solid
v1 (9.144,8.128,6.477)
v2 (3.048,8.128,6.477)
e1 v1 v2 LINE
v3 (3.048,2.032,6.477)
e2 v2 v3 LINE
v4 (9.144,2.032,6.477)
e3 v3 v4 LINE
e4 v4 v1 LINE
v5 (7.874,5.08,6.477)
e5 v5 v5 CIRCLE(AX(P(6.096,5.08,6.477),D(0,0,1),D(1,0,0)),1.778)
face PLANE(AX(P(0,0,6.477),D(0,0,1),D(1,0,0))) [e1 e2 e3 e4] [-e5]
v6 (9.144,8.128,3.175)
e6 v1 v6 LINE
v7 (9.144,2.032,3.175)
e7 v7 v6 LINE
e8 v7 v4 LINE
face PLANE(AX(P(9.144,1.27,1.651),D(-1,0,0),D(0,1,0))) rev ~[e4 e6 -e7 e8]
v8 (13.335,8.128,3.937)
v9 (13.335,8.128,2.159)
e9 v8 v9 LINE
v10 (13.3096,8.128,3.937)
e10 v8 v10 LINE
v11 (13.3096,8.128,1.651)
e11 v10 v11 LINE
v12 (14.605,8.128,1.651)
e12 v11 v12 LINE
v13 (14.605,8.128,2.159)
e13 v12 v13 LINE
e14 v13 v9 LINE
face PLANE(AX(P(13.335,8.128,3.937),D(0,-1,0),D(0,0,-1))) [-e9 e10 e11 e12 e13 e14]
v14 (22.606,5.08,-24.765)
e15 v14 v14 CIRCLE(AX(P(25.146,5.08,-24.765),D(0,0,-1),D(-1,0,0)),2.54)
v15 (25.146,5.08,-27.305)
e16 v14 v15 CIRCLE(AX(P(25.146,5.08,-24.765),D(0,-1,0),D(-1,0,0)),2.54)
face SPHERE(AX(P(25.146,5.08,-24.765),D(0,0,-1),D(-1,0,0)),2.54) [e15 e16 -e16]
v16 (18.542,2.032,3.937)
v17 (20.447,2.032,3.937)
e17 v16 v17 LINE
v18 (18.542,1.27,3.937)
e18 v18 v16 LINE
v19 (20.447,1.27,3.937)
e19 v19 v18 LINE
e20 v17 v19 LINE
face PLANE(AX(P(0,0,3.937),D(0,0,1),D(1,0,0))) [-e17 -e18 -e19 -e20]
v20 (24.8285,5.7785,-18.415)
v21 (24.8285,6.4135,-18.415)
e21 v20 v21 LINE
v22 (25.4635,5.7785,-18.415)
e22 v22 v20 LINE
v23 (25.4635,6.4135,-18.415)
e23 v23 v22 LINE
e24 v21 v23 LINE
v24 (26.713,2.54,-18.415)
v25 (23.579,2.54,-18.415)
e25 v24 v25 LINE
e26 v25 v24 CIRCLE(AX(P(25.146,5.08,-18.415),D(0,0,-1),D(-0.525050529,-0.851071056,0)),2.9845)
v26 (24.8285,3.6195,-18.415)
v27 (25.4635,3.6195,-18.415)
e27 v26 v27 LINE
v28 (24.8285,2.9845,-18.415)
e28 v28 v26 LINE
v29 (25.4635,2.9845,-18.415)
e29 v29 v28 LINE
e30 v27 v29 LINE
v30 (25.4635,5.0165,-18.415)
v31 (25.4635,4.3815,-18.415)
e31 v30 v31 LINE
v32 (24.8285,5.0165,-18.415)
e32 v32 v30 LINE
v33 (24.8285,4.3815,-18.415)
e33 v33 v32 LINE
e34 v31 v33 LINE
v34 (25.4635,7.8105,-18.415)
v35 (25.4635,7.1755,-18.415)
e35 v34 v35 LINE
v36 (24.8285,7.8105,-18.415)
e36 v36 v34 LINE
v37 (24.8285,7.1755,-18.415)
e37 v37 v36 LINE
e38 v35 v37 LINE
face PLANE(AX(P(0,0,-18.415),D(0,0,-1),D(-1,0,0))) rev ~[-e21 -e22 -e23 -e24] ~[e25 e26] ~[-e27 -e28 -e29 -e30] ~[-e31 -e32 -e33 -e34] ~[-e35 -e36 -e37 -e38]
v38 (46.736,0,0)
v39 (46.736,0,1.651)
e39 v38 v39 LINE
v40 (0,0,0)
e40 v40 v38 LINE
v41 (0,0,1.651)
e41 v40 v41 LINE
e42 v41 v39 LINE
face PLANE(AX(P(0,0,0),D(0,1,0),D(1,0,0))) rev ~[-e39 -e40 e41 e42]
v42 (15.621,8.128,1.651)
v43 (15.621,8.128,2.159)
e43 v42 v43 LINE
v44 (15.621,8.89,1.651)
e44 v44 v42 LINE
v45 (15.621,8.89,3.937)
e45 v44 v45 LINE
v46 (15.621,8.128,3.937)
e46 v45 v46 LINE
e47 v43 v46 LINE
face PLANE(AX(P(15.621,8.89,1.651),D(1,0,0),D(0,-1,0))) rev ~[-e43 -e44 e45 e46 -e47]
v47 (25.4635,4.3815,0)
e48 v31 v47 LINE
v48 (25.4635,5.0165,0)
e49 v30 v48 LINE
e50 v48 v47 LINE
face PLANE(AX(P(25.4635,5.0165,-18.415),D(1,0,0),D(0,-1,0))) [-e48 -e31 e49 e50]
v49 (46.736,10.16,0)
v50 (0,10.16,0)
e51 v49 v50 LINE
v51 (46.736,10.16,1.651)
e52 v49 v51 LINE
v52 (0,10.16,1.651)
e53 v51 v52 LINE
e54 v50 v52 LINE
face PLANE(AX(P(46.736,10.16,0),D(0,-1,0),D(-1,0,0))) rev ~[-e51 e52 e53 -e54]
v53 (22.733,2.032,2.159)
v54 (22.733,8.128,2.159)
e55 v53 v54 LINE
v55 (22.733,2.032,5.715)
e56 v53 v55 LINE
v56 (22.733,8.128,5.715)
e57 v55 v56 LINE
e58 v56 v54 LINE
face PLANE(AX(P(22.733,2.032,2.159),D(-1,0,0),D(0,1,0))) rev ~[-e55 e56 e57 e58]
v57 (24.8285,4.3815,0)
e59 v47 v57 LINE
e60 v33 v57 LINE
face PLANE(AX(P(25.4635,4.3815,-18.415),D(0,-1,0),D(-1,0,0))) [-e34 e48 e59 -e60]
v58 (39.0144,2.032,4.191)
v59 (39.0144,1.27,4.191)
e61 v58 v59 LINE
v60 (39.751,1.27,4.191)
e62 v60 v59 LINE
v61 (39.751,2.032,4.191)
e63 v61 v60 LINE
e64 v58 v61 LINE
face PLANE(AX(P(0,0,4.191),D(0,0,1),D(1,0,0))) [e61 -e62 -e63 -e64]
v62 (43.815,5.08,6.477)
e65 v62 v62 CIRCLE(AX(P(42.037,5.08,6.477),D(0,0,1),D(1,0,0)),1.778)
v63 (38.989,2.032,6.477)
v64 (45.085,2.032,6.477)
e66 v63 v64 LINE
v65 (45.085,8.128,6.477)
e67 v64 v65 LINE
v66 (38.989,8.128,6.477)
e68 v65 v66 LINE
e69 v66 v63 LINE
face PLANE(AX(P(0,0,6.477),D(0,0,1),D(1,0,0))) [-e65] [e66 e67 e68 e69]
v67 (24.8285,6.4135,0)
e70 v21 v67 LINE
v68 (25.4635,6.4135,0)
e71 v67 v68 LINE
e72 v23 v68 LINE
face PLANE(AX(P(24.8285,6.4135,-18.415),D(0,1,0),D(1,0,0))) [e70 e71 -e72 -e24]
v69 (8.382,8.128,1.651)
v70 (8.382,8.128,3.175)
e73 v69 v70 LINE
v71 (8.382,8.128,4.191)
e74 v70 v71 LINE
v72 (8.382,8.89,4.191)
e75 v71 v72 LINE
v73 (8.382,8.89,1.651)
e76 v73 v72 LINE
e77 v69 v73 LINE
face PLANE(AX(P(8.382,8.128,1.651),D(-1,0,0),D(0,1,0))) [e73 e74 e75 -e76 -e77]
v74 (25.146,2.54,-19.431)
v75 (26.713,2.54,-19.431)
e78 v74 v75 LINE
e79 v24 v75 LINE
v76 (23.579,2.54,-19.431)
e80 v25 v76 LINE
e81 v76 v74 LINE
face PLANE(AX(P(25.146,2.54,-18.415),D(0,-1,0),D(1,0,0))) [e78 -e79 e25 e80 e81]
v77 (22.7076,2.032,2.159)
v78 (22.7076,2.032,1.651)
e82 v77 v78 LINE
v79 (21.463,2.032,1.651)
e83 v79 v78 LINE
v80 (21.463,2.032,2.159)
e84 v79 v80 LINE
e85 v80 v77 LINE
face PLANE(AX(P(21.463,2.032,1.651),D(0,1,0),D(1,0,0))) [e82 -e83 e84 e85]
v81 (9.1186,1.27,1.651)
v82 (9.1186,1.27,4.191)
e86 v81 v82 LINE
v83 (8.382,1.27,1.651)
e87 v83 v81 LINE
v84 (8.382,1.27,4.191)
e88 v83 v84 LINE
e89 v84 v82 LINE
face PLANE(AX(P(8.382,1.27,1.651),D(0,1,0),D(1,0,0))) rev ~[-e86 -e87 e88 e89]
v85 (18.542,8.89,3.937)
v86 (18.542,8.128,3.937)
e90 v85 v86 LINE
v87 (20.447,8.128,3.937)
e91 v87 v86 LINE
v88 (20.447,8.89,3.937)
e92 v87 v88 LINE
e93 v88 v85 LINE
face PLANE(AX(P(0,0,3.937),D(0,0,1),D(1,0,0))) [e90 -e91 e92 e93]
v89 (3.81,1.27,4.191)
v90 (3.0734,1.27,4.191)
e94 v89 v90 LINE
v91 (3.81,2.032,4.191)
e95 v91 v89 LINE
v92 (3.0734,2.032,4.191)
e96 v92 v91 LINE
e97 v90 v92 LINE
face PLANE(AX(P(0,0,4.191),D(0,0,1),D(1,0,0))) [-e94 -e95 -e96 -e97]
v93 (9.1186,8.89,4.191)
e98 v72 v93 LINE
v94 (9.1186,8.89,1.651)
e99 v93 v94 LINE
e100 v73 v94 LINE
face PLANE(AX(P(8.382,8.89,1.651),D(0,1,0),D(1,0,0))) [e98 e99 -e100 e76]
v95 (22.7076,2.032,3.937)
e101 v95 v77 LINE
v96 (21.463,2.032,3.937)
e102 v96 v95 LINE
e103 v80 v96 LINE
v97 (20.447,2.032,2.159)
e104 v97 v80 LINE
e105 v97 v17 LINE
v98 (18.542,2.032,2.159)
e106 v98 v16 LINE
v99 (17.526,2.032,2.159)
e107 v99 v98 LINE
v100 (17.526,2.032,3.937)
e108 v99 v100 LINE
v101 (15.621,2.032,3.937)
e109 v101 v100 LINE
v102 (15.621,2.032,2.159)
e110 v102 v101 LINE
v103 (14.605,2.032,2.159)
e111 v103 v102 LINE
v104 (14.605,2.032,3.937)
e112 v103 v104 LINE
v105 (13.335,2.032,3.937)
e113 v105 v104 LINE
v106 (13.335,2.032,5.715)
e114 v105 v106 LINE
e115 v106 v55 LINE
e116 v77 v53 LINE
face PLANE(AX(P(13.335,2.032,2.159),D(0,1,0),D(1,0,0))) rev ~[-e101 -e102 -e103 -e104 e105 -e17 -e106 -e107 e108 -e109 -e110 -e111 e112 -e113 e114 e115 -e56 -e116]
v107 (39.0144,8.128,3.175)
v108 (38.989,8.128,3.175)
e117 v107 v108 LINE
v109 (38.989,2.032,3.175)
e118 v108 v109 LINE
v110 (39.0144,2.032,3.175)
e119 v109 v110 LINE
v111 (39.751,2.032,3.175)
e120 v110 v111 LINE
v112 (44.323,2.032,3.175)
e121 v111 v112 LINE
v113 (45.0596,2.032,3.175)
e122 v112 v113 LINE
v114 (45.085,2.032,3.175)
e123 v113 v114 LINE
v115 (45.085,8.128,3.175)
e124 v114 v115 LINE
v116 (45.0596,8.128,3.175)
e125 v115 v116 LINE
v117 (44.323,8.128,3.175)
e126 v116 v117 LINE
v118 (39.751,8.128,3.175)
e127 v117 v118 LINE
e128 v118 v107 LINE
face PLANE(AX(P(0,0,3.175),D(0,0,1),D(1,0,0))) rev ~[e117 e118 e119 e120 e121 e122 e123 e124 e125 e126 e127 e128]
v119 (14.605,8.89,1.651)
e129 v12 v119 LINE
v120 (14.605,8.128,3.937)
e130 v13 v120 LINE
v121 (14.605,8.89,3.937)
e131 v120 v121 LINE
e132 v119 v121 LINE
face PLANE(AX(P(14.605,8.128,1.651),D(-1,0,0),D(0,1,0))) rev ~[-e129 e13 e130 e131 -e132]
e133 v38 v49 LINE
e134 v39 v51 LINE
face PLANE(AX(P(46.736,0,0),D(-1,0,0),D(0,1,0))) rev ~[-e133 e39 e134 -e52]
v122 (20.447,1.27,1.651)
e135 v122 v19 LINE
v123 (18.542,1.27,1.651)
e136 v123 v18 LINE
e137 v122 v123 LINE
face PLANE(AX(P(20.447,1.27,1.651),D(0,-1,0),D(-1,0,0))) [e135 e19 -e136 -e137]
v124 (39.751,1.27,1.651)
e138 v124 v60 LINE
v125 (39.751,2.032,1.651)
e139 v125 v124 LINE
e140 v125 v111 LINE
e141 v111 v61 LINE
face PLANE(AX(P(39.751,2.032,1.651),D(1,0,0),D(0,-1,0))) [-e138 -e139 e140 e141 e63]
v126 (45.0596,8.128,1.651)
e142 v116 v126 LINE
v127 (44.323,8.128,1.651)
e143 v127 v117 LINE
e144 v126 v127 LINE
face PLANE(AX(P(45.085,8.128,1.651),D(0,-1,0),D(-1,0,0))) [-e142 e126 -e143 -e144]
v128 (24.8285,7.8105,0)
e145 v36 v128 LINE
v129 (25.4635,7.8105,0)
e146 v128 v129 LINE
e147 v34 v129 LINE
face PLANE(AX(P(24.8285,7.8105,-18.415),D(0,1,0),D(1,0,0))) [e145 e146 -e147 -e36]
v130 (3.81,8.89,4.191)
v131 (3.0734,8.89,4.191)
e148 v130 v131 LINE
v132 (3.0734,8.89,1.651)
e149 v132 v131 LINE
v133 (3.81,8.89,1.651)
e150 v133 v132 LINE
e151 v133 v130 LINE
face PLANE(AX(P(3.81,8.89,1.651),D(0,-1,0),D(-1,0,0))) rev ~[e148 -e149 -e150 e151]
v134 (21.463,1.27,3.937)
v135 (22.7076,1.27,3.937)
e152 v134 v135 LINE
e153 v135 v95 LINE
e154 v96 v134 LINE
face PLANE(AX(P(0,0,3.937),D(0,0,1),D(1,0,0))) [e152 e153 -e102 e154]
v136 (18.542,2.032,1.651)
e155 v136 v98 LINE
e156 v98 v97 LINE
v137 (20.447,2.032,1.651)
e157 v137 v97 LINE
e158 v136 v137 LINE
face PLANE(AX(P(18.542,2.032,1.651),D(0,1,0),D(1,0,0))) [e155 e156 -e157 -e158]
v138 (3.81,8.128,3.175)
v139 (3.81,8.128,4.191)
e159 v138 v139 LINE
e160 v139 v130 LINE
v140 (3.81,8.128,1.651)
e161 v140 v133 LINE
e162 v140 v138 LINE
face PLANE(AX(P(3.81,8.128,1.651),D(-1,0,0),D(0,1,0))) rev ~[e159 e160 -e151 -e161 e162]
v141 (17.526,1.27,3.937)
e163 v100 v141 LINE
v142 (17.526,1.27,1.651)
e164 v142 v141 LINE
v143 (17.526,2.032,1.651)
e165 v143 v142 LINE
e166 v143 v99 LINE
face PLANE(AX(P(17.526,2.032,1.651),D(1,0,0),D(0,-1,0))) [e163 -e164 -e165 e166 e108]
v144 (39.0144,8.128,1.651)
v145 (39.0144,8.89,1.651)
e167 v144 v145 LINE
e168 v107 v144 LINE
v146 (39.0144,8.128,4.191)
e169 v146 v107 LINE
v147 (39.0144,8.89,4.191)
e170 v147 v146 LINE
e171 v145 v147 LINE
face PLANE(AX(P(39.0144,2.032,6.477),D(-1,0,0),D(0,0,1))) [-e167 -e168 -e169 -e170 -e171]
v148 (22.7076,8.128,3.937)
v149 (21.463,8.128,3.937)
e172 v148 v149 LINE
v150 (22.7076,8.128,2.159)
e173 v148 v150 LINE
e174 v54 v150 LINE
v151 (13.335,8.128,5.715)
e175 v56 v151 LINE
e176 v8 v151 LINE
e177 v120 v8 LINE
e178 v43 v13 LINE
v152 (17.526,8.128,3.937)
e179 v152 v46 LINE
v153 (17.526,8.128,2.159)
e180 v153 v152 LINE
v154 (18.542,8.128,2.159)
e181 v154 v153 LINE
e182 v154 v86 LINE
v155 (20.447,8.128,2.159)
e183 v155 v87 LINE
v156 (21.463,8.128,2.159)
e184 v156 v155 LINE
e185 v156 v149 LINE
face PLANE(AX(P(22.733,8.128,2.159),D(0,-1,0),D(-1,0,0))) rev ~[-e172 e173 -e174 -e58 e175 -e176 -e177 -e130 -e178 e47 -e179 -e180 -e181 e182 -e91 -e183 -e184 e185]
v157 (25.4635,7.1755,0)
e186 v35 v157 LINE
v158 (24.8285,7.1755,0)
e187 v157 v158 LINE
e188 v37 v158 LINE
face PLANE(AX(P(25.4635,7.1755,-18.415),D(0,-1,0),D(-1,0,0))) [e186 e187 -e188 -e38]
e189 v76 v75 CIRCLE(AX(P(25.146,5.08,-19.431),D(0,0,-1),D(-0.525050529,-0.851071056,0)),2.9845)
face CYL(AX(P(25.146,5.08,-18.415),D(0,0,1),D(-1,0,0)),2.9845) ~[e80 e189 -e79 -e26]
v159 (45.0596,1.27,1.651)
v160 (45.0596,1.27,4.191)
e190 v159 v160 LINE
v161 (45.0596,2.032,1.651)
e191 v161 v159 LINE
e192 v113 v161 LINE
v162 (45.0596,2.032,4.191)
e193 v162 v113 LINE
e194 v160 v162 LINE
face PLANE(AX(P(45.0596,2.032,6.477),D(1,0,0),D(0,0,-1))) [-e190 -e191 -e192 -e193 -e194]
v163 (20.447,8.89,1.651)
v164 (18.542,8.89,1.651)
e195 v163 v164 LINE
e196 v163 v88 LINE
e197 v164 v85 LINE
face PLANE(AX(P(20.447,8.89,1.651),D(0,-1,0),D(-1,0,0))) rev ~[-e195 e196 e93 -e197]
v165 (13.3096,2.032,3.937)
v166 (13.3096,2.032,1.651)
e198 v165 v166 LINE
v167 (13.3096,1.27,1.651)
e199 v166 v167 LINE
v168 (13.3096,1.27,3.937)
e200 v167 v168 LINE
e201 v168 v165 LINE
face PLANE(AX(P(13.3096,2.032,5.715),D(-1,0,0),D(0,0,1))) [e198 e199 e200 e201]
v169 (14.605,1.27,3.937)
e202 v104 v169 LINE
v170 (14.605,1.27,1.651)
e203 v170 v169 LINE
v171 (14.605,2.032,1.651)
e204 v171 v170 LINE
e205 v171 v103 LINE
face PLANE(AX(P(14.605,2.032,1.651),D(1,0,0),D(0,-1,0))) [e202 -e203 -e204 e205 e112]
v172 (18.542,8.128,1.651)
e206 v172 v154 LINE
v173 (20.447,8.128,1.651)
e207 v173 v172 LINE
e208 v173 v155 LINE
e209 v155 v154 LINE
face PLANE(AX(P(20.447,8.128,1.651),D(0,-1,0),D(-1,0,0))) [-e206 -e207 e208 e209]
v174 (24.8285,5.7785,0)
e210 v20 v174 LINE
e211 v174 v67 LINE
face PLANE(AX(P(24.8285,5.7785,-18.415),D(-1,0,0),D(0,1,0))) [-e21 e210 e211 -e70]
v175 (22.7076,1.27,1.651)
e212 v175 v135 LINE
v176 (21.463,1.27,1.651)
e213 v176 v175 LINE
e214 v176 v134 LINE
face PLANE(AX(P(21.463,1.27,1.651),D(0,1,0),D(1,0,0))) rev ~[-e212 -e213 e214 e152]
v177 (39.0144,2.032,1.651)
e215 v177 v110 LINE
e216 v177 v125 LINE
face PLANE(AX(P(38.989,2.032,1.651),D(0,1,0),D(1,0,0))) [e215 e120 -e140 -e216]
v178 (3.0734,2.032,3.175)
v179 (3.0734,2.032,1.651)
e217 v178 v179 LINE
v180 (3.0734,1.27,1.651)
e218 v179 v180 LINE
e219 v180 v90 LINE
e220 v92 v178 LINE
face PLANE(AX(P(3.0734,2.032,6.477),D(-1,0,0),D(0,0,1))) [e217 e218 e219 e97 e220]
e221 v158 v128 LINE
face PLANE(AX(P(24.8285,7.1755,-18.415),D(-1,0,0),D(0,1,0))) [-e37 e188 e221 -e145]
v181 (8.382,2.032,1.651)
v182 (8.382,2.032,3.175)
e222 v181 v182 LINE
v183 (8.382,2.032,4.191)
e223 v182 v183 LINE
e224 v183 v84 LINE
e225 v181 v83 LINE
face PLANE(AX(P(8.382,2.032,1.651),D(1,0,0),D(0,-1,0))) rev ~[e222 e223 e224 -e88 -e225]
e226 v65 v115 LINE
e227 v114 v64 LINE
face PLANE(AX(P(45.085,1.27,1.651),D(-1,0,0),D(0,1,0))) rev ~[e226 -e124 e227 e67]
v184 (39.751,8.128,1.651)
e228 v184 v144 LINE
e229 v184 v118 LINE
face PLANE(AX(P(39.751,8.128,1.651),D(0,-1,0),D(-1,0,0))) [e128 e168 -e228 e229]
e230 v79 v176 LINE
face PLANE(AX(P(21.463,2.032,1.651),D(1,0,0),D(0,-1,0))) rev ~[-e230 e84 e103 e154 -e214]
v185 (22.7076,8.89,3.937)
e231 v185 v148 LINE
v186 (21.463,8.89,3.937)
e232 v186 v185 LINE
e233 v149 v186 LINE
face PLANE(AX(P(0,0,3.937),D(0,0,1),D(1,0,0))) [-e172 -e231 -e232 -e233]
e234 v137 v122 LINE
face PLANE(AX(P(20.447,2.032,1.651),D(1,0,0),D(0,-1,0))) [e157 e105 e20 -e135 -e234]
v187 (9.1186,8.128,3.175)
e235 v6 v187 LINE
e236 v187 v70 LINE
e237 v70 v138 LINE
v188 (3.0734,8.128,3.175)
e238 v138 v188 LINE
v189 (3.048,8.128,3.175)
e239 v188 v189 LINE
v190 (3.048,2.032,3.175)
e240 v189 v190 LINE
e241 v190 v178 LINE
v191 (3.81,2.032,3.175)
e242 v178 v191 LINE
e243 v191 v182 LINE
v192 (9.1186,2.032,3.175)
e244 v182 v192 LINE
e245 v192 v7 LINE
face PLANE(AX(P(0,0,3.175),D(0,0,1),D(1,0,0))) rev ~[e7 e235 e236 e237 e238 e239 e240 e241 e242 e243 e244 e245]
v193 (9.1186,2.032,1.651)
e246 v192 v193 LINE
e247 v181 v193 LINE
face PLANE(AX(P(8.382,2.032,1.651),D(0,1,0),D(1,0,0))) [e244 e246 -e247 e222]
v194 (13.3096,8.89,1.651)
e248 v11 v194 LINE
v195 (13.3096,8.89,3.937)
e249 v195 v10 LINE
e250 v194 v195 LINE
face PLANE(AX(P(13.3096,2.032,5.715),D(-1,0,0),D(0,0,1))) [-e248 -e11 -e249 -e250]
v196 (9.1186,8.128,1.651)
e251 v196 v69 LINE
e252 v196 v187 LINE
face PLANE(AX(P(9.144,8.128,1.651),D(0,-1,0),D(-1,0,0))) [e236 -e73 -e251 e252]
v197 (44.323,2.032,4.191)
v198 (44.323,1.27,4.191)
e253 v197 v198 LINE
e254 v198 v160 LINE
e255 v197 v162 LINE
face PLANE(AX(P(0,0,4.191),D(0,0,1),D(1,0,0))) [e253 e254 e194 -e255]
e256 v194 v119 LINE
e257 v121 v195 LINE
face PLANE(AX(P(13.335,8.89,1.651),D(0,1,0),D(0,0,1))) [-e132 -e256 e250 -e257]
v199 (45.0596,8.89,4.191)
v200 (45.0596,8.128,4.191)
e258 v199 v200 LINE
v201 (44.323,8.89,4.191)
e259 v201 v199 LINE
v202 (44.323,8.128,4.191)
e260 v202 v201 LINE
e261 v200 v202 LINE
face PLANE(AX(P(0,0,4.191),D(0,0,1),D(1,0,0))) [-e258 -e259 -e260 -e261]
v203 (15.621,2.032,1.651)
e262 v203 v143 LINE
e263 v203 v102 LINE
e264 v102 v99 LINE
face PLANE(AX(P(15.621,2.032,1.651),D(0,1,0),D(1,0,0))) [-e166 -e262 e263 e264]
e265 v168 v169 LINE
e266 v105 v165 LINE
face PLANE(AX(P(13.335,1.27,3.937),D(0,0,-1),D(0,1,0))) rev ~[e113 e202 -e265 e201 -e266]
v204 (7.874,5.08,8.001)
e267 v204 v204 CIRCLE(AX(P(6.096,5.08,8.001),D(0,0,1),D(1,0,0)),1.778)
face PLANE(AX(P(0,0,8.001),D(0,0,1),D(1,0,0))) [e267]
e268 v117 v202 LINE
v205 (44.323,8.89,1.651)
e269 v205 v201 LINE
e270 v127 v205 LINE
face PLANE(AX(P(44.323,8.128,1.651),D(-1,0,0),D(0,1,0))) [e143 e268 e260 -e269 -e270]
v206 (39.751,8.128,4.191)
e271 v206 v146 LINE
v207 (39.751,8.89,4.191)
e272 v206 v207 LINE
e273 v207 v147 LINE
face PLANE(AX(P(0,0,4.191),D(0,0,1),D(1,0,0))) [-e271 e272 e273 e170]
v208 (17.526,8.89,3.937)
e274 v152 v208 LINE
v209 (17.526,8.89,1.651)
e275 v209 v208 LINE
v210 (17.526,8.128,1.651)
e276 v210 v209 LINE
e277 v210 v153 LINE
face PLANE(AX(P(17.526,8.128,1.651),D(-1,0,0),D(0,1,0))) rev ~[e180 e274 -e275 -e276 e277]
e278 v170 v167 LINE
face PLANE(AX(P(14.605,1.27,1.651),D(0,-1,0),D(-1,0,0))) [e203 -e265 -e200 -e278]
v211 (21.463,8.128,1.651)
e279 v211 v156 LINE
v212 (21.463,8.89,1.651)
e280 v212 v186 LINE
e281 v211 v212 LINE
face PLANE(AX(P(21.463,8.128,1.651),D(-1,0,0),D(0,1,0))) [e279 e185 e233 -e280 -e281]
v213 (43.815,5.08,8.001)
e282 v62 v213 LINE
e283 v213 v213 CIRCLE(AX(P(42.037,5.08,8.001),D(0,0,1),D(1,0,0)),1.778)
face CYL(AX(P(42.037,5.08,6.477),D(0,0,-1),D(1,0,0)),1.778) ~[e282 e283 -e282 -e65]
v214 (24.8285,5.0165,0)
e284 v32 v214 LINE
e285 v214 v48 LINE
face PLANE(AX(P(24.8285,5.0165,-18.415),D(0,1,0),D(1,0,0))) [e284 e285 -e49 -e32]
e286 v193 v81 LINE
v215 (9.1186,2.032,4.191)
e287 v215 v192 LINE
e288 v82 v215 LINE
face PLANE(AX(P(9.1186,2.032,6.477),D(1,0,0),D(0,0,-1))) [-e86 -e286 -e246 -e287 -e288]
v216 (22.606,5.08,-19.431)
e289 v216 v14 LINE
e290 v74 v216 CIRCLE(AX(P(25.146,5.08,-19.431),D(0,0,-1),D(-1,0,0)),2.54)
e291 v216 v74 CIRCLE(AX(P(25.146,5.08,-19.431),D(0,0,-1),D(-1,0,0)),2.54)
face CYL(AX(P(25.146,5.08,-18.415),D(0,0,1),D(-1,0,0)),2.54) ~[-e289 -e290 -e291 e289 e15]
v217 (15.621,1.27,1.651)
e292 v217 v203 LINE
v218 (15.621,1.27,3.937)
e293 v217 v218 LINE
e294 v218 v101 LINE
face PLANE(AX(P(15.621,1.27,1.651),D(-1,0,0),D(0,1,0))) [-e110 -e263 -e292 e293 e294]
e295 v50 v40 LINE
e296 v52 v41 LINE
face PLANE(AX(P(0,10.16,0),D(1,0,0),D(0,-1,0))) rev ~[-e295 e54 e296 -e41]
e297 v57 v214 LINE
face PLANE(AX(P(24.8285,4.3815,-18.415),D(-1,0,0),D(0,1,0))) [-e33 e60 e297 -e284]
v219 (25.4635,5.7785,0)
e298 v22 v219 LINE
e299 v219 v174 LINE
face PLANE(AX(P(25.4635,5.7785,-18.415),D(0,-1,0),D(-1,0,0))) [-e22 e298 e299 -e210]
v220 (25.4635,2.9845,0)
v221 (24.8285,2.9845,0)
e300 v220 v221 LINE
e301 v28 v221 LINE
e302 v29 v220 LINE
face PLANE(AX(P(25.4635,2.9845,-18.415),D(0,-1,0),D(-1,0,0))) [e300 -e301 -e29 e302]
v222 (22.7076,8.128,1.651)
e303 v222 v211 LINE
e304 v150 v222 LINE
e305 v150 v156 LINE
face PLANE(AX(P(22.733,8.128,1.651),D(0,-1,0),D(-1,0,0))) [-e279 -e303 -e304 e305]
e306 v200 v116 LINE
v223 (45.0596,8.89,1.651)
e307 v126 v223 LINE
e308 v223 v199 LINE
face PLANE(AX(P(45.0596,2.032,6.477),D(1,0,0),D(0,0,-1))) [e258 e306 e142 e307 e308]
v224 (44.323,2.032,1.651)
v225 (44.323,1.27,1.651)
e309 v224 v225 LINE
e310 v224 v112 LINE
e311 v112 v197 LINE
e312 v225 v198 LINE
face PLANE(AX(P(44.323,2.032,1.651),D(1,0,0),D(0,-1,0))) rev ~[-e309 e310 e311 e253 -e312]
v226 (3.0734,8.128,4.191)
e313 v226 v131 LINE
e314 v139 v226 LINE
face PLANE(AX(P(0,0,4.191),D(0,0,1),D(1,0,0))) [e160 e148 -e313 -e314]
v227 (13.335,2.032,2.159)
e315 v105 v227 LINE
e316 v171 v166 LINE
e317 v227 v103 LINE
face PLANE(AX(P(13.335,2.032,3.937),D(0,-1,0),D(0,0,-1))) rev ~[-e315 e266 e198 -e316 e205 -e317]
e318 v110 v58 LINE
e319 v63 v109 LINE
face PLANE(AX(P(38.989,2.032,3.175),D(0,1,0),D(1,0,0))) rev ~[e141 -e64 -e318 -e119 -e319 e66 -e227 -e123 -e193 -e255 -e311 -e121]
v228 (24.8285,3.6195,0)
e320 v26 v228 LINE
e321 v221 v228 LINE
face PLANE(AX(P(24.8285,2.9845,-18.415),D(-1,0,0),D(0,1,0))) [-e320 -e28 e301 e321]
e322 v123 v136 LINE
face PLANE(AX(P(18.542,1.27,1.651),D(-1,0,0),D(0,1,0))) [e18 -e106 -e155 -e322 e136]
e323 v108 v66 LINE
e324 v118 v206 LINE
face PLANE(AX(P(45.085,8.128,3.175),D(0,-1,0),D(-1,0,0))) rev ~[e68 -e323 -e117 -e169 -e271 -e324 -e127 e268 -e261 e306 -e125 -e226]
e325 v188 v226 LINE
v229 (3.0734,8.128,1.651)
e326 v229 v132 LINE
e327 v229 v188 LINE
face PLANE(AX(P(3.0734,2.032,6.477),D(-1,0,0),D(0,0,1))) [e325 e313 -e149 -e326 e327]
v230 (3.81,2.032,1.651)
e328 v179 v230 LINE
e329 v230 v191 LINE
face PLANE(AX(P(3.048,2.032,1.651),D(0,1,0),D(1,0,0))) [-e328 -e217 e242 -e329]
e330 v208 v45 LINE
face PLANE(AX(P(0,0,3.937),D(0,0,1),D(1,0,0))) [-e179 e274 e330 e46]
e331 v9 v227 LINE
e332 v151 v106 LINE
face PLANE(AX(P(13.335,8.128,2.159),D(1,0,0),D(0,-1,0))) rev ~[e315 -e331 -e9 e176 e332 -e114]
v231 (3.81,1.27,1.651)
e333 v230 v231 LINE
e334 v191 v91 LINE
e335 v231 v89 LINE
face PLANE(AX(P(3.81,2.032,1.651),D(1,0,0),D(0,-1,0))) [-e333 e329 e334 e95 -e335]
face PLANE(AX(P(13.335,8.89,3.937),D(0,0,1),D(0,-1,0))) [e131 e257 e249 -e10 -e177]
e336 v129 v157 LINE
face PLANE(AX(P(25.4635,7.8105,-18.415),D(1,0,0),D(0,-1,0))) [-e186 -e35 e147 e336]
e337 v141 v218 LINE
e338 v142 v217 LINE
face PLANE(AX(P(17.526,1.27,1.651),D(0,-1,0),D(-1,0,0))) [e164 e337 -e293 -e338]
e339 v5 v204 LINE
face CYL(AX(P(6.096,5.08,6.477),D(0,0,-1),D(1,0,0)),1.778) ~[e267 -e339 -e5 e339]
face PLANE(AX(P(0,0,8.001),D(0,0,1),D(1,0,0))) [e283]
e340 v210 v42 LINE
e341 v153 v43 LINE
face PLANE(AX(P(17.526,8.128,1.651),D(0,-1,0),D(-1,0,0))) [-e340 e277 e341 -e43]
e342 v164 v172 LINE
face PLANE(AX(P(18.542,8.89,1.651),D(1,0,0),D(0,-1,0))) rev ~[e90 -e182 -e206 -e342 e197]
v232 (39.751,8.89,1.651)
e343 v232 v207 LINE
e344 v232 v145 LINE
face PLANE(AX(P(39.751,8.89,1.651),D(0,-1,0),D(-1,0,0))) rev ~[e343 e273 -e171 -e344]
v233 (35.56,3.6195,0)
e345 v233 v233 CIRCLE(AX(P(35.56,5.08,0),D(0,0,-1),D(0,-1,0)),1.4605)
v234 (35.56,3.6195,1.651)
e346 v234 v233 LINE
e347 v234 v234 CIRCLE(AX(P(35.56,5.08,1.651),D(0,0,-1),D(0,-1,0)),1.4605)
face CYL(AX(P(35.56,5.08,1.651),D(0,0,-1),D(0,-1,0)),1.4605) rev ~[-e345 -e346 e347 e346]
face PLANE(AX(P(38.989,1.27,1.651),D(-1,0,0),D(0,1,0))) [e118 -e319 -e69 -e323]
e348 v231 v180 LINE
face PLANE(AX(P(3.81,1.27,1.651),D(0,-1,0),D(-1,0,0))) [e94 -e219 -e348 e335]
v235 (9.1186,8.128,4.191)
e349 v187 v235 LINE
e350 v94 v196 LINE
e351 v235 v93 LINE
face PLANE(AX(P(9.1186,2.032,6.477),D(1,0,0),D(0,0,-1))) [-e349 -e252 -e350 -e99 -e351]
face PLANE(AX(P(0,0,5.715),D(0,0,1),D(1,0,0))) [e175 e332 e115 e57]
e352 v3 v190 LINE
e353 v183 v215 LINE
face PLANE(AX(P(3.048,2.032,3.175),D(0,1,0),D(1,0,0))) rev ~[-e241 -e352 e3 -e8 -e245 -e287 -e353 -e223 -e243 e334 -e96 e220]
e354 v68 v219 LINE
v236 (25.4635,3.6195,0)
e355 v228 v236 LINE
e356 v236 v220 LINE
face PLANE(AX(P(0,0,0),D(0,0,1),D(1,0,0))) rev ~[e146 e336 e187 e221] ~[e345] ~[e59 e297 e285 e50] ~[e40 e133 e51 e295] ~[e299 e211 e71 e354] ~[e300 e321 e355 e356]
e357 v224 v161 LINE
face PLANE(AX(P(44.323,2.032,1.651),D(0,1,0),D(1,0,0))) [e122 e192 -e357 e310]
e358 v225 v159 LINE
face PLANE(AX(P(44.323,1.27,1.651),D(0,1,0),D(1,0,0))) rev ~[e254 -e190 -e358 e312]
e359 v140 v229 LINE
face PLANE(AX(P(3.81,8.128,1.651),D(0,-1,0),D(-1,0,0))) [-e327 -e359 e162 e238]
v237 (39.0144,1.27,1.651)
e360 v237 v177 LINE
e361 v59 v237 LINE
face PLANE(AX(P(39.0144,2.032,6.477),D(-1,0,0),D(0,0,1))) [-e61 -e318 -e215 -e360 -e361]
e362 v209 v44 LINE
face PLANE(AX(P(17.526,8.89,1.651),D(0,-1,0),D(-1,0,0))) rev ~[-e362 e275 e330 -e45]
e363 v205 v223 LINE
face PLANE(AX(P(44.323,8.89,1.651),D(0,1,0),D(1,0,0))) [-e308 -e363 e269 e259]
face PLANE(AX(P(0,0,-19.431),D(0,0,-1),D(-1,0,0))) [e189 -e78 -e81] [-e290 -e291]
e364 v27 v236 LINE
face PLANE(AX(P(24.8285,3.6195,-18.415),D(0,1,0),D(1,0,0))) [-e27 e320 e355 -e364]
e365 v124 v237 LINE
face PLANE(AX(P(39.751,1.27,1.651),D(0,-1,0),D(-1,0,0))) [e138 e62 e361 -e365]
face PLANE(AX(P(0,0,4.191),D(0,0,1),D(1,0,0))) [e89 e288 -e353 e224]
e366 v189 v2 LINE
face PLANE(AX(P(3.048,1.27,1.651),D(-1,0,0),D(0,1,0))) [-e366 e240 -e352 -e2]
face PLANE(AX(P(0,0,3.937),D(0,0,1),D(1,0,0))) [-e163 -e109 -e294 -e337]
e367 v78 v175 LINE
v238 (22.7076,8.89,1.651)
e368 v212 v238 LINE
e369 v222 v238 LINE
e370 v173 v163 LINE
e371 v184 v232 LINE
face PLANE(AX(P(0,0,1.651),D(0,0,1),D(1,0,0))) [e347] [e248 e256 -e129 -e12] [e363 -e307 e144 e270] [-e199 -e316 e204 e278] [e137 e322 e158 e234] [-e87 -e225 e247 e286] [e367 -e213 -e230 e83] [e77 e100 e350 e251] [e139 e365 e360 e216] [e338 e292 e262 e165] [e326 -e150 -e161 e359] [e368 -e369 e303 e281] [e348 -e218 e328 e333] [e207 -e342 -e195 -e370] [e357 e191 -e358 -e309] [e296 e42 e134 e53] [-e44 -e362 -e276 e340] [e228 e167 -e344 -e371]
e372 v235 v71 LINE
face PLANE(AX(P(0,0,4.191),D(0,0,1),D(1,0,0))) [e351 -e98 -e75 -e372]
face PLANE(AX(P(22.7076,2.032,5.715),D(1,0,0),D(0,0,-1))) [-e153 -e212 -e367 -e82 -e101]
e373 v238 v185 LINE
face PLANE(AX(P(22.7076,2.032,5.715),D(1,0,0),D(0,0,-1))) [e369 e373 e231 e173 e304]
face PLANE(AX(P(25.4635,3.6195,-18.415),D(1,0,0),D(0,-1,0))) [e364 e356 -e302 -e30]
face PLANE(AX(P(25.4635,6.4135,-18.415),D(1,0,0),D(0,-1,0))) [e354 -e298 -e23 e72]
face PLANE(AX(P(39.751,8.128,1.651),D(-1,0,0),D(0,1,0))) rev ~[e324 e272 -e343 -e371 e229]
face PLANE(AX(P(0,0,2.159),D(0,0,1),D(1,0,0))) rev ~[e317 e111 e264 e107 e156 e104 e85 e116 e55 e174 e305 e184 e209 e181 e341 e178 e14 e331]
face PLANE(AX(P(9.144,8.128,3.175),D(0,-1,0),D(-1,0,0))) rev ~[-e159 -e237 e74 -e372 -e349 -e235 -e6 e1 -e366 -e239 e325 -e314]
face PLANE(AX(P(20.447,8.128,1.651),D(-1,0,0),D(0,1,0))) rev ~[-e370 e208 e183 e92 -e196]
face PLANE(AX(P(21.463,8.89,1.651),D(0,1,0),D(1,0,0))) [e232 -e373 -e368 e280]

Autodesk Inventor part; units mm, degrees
sketch "Sketch4" plane through (0, 0, 0) normal (0, 0, 1) x (1, 0, 0)
  line L0 (0, 0) -> (46.736, 0)
  line L1 (46.736, 0) -> (46.736, 10.16)
  line L2 (46.736, 10.16) -> (0, 10.16)
  line L3 (0, 10.16) -> (0, 0)
  dimension "d6" = 46.736
  dimension "d7" = 10.16
extrude "Extrusion4" add sketch "Sketch4" along normal blind 1.651
ref_plane "Work Plane2" through (0, 0, 3.175) normal (0, 0, 1) x (1, 0, 0)
sketch "Sketch6" plane through (0, 0, 3.175) normal (0, 0, 1) x (1, 0, 0)
  line L0 (38.989, 2.032) -> (45.085, 2.032)
  line L1 (45.085, 2.032) -> (45.085, 8.128)
  line L2 (45.085, 8.128) -> (38.989, 8.128)
  line L3 (38.989, 8.128) -> (38.989, 2.032)
  line L4 (0, 0) -> (46.736, 0) projected
  line L5 (46.736, 0) -> (46.736, 10.16) projected
  line L6 (46.736, 10.16) -> (0, 10.16) projected
  line L7 (0, 10.16) -> (0, 0) projected
  dimension "d17" = 6.096
  dimension "d18" = 6.096
  dimension "d22" = 2.032
  dimension "d23" = 2.032
  dimension "d24" = 1.651
extrude "Extrusion5" add sketch "Sketch6" along normal blind 3.302 contours L3 L2 L1 L0
sketch "Sketch7" plane through (0, 0, 6.477) normal (0, 0, 1) x (1, 0, 0)
  line L0 (38.989, 2.032) -> (45.085, 2.032) projected
  line L1 (38.989, 8.128) -> (38.989, 2.032) projected
  circle A0 centre (42.037, 5.08) radius 1.778
  point P0 (45.085, 8.128)
  point P1 (0, 0)
  dimension "d27" = 3.556
  dimension "d28" = 3.048
  dimension "d29" = 6.096
  dimension "d30" = 6.096
  dimension "d31" = 3.048
extrude "Extrusion6" add sketch "Sketch7" along normal blind 1.524
hole "Hole1" at (35.56, 5.08, 1.651) direction (0, 0, -1) diameter 2.921 end through all
sketch "Sketch8" plane through (0, 0, 3.175) normal (0, 0, 1) x (1, 0, 0)
  circle A0 centre (35.56, 5.08) radius 1.4605 projected
  line L0 (0, 0) -> (46.736, 0) projected
  line L1 (46.736, 0) -> (46.736, 10.16) projected
  line L2 (46.736, 10.16) -> (0, 10.16) projected
  line L3 (0, 10.16) -> (0, 0) projected
  line L4 (3.048, 2.032) -> (9.144, 2.032)
  line L5 (9.144, 2.032) -> (9.144, 8.128)
  line L6 (9.144, 8.128) -> (3.048, 8.128)
  line L7 (3.048, 8.128) -> (3.048, 2.032)
  dimension "d43" = 3.048
  dimension "d44" = 2.032
  dimension "d45" = 6.096
  dimension "d46" = 6.096
extrude "Extrusion7" add sketch "Sketch8" along normal blind 3.302 contours L7 L6 L5 L4
sketch "Sketch9" plane through (0, 0, 6.477) normal (0, 0, 1) x (1, 0, 0)
  line L0 (3.048, 2.032) -> (9.144, 2.032) projected
  line L1 (9.144, 2.032) -> (9.144, 8.128) projected
  circle A0 centre (6.096, 5.08) radius 1.778
  point P0 (0, 0)
  dimension "d49" = 3.048
  dimension "d50" = 3.048
  dimension "d51" = 3.556
extrude "Extrusion8" add sketch "Sketch9" along normal blind 1.524
ref_plane "Work Plane3" through (0, 0, 2.159) normal (0, 0, 1) x (1, 0, 0)
sketch "Sketch11" plane through (0, 0, 2.159) normal (0, 0, 1) x (1, 0, 0)
  circle A0 centre (35.56, 5.08) radius 1.4605 projected
  line L0 (0, 0) -> (46.736, 0) projected
  line L1 (46.736, 0) -> (46.736, 10.16) projected
  line L2 (46.736, 10.16) -> (0, 10.16) projected
  line L3 (0, 10.16) -> (0, 0) projected
  circle A1 centre (6.096, 5.08) radius 1.778 projected
  line L4 (3.048, 2.032) -> (9.144, 2.032) projected
  line L5 (9.144, 2.032) -> (9.144, 8.128) projected
  line L6 (9.144, 8.128) -> (3.048, 8.128) projected
  line L7 (3.048, 8.128) -> (3.048, 2.032) projected
  line L8 (13.335, 2.032) -> (22.733, 2.032)
  line L9 (22.733, 2.032) -> (22.733, 8.128)
  line L10 (22.733, 8.128) -> (13.335, 8.128)
  line L11 (13.335, 8.128) -> (13.335, 2.032)
  dimension "d67" = 4.191
  dimension "d68" = 6.096
  dimension "d69" = 2.032
  dimension "d70" = 9.398
extrude "Extrusion10" add sketch "Sketch11" along normal blind 3.556 contours L11 L10 L9 L8
ref_plane "Work Plane4" through (0, 0, -18.415) normal (0, 0, -1) x (-1, 0, 0)
sketch "Sketch12" plane through (0, 0, -18.415) normal (0, 0, -1) x (-1, 0, 0)
  circle A0 centre (-35.56, 5.08) radius 1.4605 projected
  line L0 (0, 0) -> (-46.736, 0) projected
  line L1 (0, 10.16) -> (0, 0) projected
  line L2 (-46.736, 10.16) -> (0, 10.16) projected
  line L3 (-46.736, 0) -> (-46.736, 10.16) projected
  circle A1 centre (-25.146, 5.08) radius 2.54
  dimension "d74" = 5.08
  dimension "d75" = 21.59
  dimension "d76" = 5.08
extrude "Extrusion11" add sketch "Sketch12" along normal blind 8.89 contours A1
sketch "Sketch13" plane through (0, 0, -18.415) normal (0, 0, -1) x (-1, 0, 0)
  circle A0 centre (-25.146, 5.08) radius 2.54 projected
  circle A1 centre (-25.146, 5.08) radius 2.9845
  circle A2 centre (-25.146, 5.08) radius 2.54
  line L0 (-23.579, 2.54) -> (-26.713, 2.54)
  point P0 (0, 0)
  dimension "d79" = 5.969
extrude "Extrusion13" add sketch "Sketch13" along normal blind 1.016 contours L0 A1 picked at (-22.3393, 5.321)
fillet "Fillet1" radius 2.54 1 edges at (27.686, 5.08, -27.305)
sketch "Sketch14" plane through (0, 0, -18.415) normal (0, 0, 1) x (1, 0, 0)
  arc A0 (26.713, 2.54) -> (23.579, 2.54) centre (25.146, 5.08) ccw projected
  line L0 (24.8285, 7.8105) -> (25.4635, 7.8105)
  line L1 (25.4635, 7.8105) -> (25.4635, 7.1755)
  line L2 (25.4635, 7.1755) -> (24.8285, 7.1755)
  line L3 (24.8285, 7.1755) -> (24.8285, 7.8105)
  line L4 (24.8285, 6.4135) -> (25.4635, 6.4135)
  line L5 (25.4635, 6.4135) -> (25.4635, 5.7785)
  line L6 (25.4635, 5.7785) -> (24.8285, 5.7785)
  line L7 (24.8285, 5.7785) -> (24.8285, 6.4135)
  line L8 (24.8285, 5.0165) -> (25.4635, 5.0165)
  line L9 (25.4635, 5.0165) -> (25.4635, 4.3815)
  line L10 (25.4635, 4.3815) -> (24.8285, 4.3815)
  line L11 (24.8285, 4.3815) -> (24.8285, 5.0165)
  line L12 (24.8285, 3.6195) -> (25.4635, 3.6195)
  line L13 (25.4635, 3.6195) -> (25.4635, 2.9845)
  line L14 (25.4635, 2.9845) -> (24.8285, 2.9845)
  line L15 (24.8285, 2.9845) -> (24.8285, 3.6195)
  point P0 (0, 0)
  point P1 (24.8285, 3.302)
  point P2 (24.8285, 4.699)
  point P3 (24.8285, 6.096)
  point P4 (24.8285, 7.493)
  point P5 (25.146, 7.1755)
  point P6 (25.146, 5.7785)
  dimension "d85" = 0.635
  dimension "d88" = 0.3175
  dimension "d89" = 0.254
  dimension "d90" = 0.762
  dimension "d91" = 0.762
  dimension "d92" = 0.762
extrude "Extrusion14" add sketch "Sketch14" along normal up to next
sketch "Sketch16" plane through (0, 0, 1.651) normal (0, 0, 1) x (1, 0, 0)
  circle A0 centre (6.096, 5.08) radius 1.778 projected
  line L0 (3.048, 2.032) -> (9.144, 2.032) projected
  line L1 (9.144, 2.032) -> (9.144, 8.128) projected
  line L2 (9.144, 8.128) -> (3.048, 8.128) projected
  line L3 (3.048, 8.128) -> (3.048, 2.032) projected
  line L4 (13.335, 2.032) -> (22.733, 2.032) projected
  line L5 (22.733, 2.032) -> (22.733, 8.128) projected
  line L6 (22.733, 8.128) -> (13.335, 8.128) projected
  line L7 (13.335, 8.128) -> (13.335, 2.032) projected
  circle A1 centre (42.037, 5.08) radius 1.778 projected
  line L8 (38.989, 2.032) -> (45.085, 2.032) projected
  line L9 (45.085, 2.032) -> (45.085, 8.128) projected
  line L10 (45.085, 8.128) -> (38.989, 8.128) projected
  line L11 (38.989, 8.128) -> (38.989, 2.032) projected
  line L12 (3.048, 8.128) -> (3.81, 8.128)
  line L13 (3.81, 8.128) -> (3.81, 8.89)
  line L14 (3.81, 8.89) -> (3.048, 8.89)
  line L15 (3.048, 8.89) -> (3.048, 8.128)
  line L16 (9.144, 8.128) -> (8.382, 8.128)
  line L17 (8.382, 8.128) -> (8.382, 8.89)
  line L18 (8.382, 8.89) -> (9.144, 8.89)
  line L19 (9.144, 8.89) -> (9.144, 8.128)
  line L20 (3.048, 2.032) -> (3.81, 2.032)
  line L21 (3.81, 2.032) -> (3.81, 1.27)
  line L22 (3.81, 1.27) -> (3.048, 1.27)
  line L23 (3.048, 1.27) -> (3.048, 2.032)
  line L24 (9.144, 2.032) -> (8.382, 2.032)
  line L25 (8.382, 2.032) -> (8.382, 1.27)
  line L26 (8.382, 1.27) -> (9.144, 1.27)
  line L27 (9.144, 1.27) -> (9.144, 2.032)
  line L28 (38.989, 2.032) -> (39.751, 2.032)
  line L29 (39.751, 2.032) -> (39.751, 1.27)
  line L30 (39.751, 1.27) -> (38.989, 1.27)
  line L31 (38.989, 1.27) -> (38.989, 2.032)
  line L32 (45.085, 2.032) -> (44.323, 2.032)
  line L33 (44.323, 2.032) -> (44.323, 1.27)
  line L34 (44.323, 1.27) -> (45.085, 1.27)
  line L35 (45.085, 1.27) -> (45.085, 2.032)
  line L36 (45.085, 8.128) -> (44.323, 8.128)
  line L37 (44.323, 8.128) -> (44.323, 8.89)
  line L38 (44.323, 8.89) -> (45.085, 8.89)
  line L39 (45.085, 8.89) -> (45.085, 8.128)
  line L40 (38.989, 8.128) -> (39.751, 8.128)
  line L41 (39.751, 8.128) -> (39.751, 8.89)
  line L42 (39.751, 8.89) -> (38.989, 8.89)
  line L43 (38.989, 8.89) -> (38.989, 8.128)
  line L44 (13.335, 8.128) -> (14.605, 8.128)
  line L45 (14.605, 8.128) -> (14.605, 8.89)
  line L46 (14.605, 8.89) -> (13.335, 8.89)
  line L47 (13.335, 8.89) -> (13.335, 8.128)
  line L48 (22.733, 8.128) -> (21.463, 8.128)
  line L49 (21.463, 8.128) -> (21.463, 8.89)
  line L50 (21.463, 8.89) -> (22.733, 8.89)
  line L51 (22.733, 8.89) -> (22.733, 8.128)
  line L52 (15.621, 8.128) -> (17.526, 8.128)
  line L53 (17.526, 8.128) -> (17.526, 8.89)
  line L54 (17.526, 8.89) -> (15.621, 8.89)
  line L55 (15.621, 8.89) -> (15.621, 8.128)
  line L56 (18.542, 8.128) -> (20.447, 8.128)
  line L57 (20.447, 8.128) -> (20.447, 8.89)
  line L58 (20.447, 8.89) -> (18.542, 8.89)
  line L59 (18.542, 8.89) -> (18.542, 8.128)
  line L60 (13.335, 2.032) -> (14.605, 2.032)
  line L61 (14.605, 2.032) -> (14.605, 1.27)
  line L62 (14.605, 1.27) -> (13.335, 1.27)
  line L63 (13.335, 1.27) -> (13.335, 2.032)
  line L64 (15.621, 2.032) -> (17.526, 2.032)
  line L65 (17.526, 2.032) -> (17.526, 1.27)
  line L66 (17.526, 1.27) -> (15.621, 1.27)
  line L67 (15.621, 1.27) -> (15.621, 2.032)
  line L68 (18.542, 2.032) -> (20.447, 2.032)
  line L69 (20.447, 2.032) -> (20.447, 1.27)
  line L70 (20.447, 1.27) -> (18.542, 1.27)
  line L71 (18.542, 1.27) -> (18.542, 2.032)
  line L72 (22.733, 2.032) -> (21.463, 2.032)
  line L73 (21.463, 2.032) -> (21.463, 1.27)
  line L74 (21.463, 1.27) -> (22.733, 1.27)
  line L75 (22.733, 1.27) -> (22.733, 2.032)
  point P0 (15.621, 1.651)
  point P1 (15.621, 8.509)
  point P2 (18.542, 1.651)
  point P3 (18.542, 8.509)
  dimension "d95" = 0.762
  dimension "d96" = 1.27
  dimension "d97" = 1.905
  dimension "d98" = 1.016
  dimension "d99" = 1.016
  dimension "d100" = 1.016
extrude "Extrusion15" add sketch "Sketch16" along normal blind 2.54 contours L0 L21 L22 L23 | L15 L14 L13 L2 | L0 L27 L26 L25 | L17 L18 L19 L2 | L8 L29 L30 L31 | L43 L42 L41 L10 | L8 L35 L34 L33 | L37 L38 L39 L10
sketch "Sketch17" plane through (45.085, 2.032, 6.477) normal (1, 0, 0) x (0, 0, -1)
  line L0 (2.286, -0.762) -> (2.286, 0) projected
  line L1 (4.826, -0.762) -> (2.286, -0.762) projected
  line L2 (2.286, 6.096) -> (4.826, 6.096)
  line L3 (4.826, 6.096) -> (4.826, 6.858)
  line L4 (4.826, 6.858) -> (2.286, 6.858)
  line L5 (2.286, 6.858) -> (2.286, 6.096)
  line L6 (2.286, 0) -> (4.826, 0)
  line L7 (4.826, 0) -> (4.826, -0.762)
  line L8 (4.826, -0.762) -> (2.286, -0.762)
  line L9 (2.286, -0.762) -> (2.286, 0)
  point P0 (6.477, -2.032)
extrude "Extrusion16" cut sketch "Sketch17" against normal blind 0.0254
sketch "Sketch18" plane through (38.989, 2.032, 6.477) normal (-1, 0, 0) x (0, 0, 1)
  line L0 (-2.286, 6.858) -> (-2.286, 6.096) projected
  line L1 (-4.826, 6.858) -> (-2.286, 6.858) projected
  line L2 (-2.286, 6.096) -> (-4.826, 6.096)
  line L3 (-4.826, 6.096) -> (-4.826, 6.858)
  line L4 (-4.826, 6.858) -> (-2.286, 6.858)
  line L5 (-2.286, 6.858) -> (-2.286, 6.096)
  line L6 (-2.286, -0.762) -> (-4.826, -0.762)
  line L7 (-4.826, -0.762) -> (-4.826, 0)
  line L8 (-4.826, 0) -> (-2.286, 0)
  line L9 (-2.286, 0) -> (-2.286, -0.762)
  point P0 (-6.477, -2.032)
extrude "Extrusion17" cut sketch "Sketch18" against normal blind 0.0254
sketch "Sketch19" plane through (9.144, 2.032, 6.477) normal (1, 0, 0) x (0, 0, -1)
  line L0 (2.286, -0.762) -> (2.286, 0) projected
  line L1 (4.826, -0.762) -> (2.286, -0.762) projected
  line L2 (4.826, 6.096) -> (2.286, 6.096)
  line L3 (2.286, 6.096) -> (2.286, 6.858)
  line L4 (2.286, 6.858) -> (4.826, 6.858)
  line L5 (4.826, 6.858) -> (4.826, 6.096)
  line L6 (4.826, -0.762) -> (2.286, -0.762)
  line L7 (2.286, -0.762) -> (2.286, 0)
  line L8 (2.286, 0) -> (4.826, 0)
  line L9 (4.826, 0) -> (4.826, -0.762)
  point P0 (6.477, -2.032)
extrude "Extrusion18" cut sketch "Sketch19" against normal blind 0.0254
sketch "Sketch20" plane through (3.048, 2.032, 6.477) normal (-1, 0, 0) x (0, 0, 1)
  line L0 (-4.826, 6.858) -> (-2.286, 6.858) projected
  line L1 (-4.826, 6.096) -> (-4.826, 6.858) projected
  line L2 (-4.826, 6.096) -> (-2.286, 6.096)
  line L3 (-2.286, 6.096) -> (-2.286, 6.858)
  line L4 (-2.286, 6.858) -> (-4.826, 6.858)
  line L5 (-4.826, 6.858) -> (-4.826, 6.096)
  line L6 (-2.286, 0) -> (-4.826, 0)
  line L7 (-4.826, 0) -> (-4.826, -0.762)
  line L8 (-4.826, -0.762) -> (-2.286, -0.762)
  line L9 (-2.286, -0.762) -> (-2.286, 0)
  point P0 (-6.477, -2.032)
extrude "Extrusion19" cut sketch "Sketch20" against normal blind 0.0254
sketch "Sketch21" plane through (0, 0, 1.651) normal (0, 0, 1) x (1, 0, 0)
  line L0 (46.736, 0) -> (46.736, 10.16) projected
  line L1 (46.736, 10.16) -> (0, 10.16) projected
  line L2 (0, 10.16) -> (0, 0) projected
  line L3 (3.048, 2.032) -> (9.144, 2.032)
  line L4 (9.144, 2.032) -> (9.144, 8.128)
  line L5 (9.144, 8.128) -> (3.048, 8.128)
  line L6 (3.048, 8.128) -> (3.048, 2.032)
  line L7 (13.335, 2.032) -> (22.733, 2.032)
  line L8 (22.733, 2.032) -> (22.733, 8.128)
  line L9 (22.733, 8.128) -> (13.335, 8.128)
  line L10 (13.335, 8.128) -> (13.335, 2.032)
  line L11 (3.048, 8.128) -> (3.81, 8.128)
  line L12 (3.81, 8.128) -> (3.81, 8.89)
  line L13 (3.81, 8.89) -> (3.048, 8.89)
  line L14 (3.048, 8.89) -> (3.048, 8.128)
  line L15 (9.144, 8.128) -> (8.382, 8.128)
  line L16 (8.382, 8.128) -> (8.382, 8.89)
  line L17 (8.382, 8.89) -> (9.144, 8.89)
  line L18 (9.144, 8.89) -> (9.144, 8.128)
  line L19 (3.048, 2.032) -> (3.81, 2.032)
  line L20 (3.81, 2.032) -> (3.81, 1.27)
  line L21 (3.81, 1.27) -> (3.048, 1.27)
  line L22 (3.048, 1.27) -> (3.048, 2.032)
  line L23 (9.144, 2.032) -> (8.382, 2.032)
  line L24 (8.382, 2.032) -> (8.382, 1.27)
  line L25 (8.382, 1.27) -> (9.144, 1.27)
  line L26 (9.144, 1.27) -> (9.144, 2.032)
  line L27 (13.335, 8.128) -> (14.605, 8.128)
  line L28 (14.605, 8.128) -> (14.605, 8.89)
  line L29 (14.605, 8.89) -> (13.335, 8.89)
  line L30 (13.335, 8.89) -> (13.335, 8.128)
  line L31 (22.733, 8.128) -> (21.463, 8.128)
  line L32 (21.463, 8.128) -> (21.463, 8.89)
  line L33 (21.463, 8.89) -> (22.733, 8.89)
  line L34 (22.733, 8.89) -> (22.733, 8.128)
  line L35 (15.621, 8.128) -> (17.526, 8.128)
  line L36 (17.526, 8.128) -> (17.526, 8.89)
  line L37 (17.526, 8.89) -> (15.621, 8.89)
  line L38 (15.621, 8.89) -> (15.621, 8.128)
  line L39 (18.542, 8.128) -> (20.447, 8.128)
  line L40 (20.447, 8.128) -> (20.447, 8.89)
  line L41 (20.447, 8.89) -> (18.542, 8.89)
  line L42 (18.542, 8.89) -> (18.542, 8.128)
  line L43 (13.335, 2.032) -> (14.605, 2.032)
  line L44 (14.605, 2.032) -> (14.605, 1.27)
  line L45 (14.605, 1.27) -> (13.335, 1.27)
  line L46 (13.335, 1.27) -> (13.335, 2.032)
  line L47 (15.621, 2.032) -> (17.526, 2.032)
  line L48 (17.526, 2.032) -> (17.526, 1.27)
  line L49 (17.526, 1.27) -> (15.621, 1.27)
  line L50 (15.621, 1.27) -> (15.621, 2.032)
  line L51 (18.542, 2.032) -> (20.447, 2.032)
  line L52 (20.447, 2.032) -> (20.447, 1.27)
  line L53 (20.447, 1.27) -> (18.542, 1.27)
  line L54 (18.542, 1.27) -> (18.542, 2.032)
  line L55 (22.733, 2.032) -> (21.463, 2.032)
  line L56 (21.463, 2.032) -> (21.463, 1.27)
  line L57 (21.463, 1.27) -> (22.733, 1.27)
  line L58 (22.733, 1.27) -> (22.733, 2.032)
  point P0 (15.621, 1.651)
  point P1 (15.621, 8.509)
  point P2 (18.542, 1.651)
  point P3 (18.542, 8.509)
  dimension "d111" = 0.762
  dimension "d112" = 1.27
  dimension "d113" = 1.905
  dimension "d114" = 1.016
  dimension "d115" = 1.016
  dimension "d116" = 1.016
  dimension "d117" = 2.032
  dimension "d118" = 3.048
  dimension "d119" = 6.096
  dimension "d120" = 4.191
  dimension "d121" = 9.144
  dimension "d122" = 2.032
  dimension "d123" = 6.096
  dimension "d124" = 24.003
extrude "Extrusion20" add sketch "Sketch21" along normal blind 2.286 contours L7 L44 L45 L46 | L30 L29 L28 L9 | L7 L48 L49 L50 | L38 L37 L36 L9 | L7 L52 L53 L54 | L42 L41 L40 L9 | L7 L58 L57 L56 | L32 L33 L34 L9
sketch "Sketch22" plane through (22.733, 2.032, 5.715) normal (1, 0, 0) x (0, 0, -1)
  line L0 (1.778, -0.762) -> (1.778, 0) projected
  line L1 (4.064, -0.762) -> (1.778, -0.762) projected
  line L2 (1.778, 6.096) -> (4.064, 6.096)
  line L3 (4.064, 6.096) -> (4.064, 6.858)
  line L4 (4.064, 6.858) -> (1.778, 6.858)
  line L5 (1.778, 6.858) -> (1.778, 6.096)
  line L6 (4.064, -0.762) -> (1.778, -0.762)
  line L7 (1.778, -0.762) -> (1.778, 0)
  line L8 (1.778, 0) -> (4.064, 0)
  line L9 (4.064, 0) -> (4.064, -0.762)
  point P0 (5.715, -2.032)
extrude "Extrusion21" cut sketch "Sketch22" against normal blind 0.0254
sketch "Sketch23" plane through (13.335, 2.032, 5.715) normal (-1, 0, 0) x (0, 0, 1)
  line L0 (-1.778, 6.858) -> (-1.778, 6.096) projected
  line L1 (-4.064, 6.858) -> (-1.778, 6.858) projected
  line L2 (-1.778, 6.096) -> (-4.064, 6.096)
  line L3 (-4.064, 6.096) -> (-4.064, 6.858)
  line L4 (-4.064, 6.858) -> (-1.778, 6.858)
  line L5 (-1.778, 6.858) -> (-1.778, 6.096)
  line L6 (-4.064, -0.762) -> (-1.778, -0.762)
  line L7 (-1.778, -0.762) -> (-1.778, 0)
  line L8 (-1.778, 0) -> (-4.064, 0)
  line L9 (-4.064, 0) -> (-4.064, -0.762)
  point P0 (-5.715, -2.032)
extrude "Extrusion22" add sketch "Sketch23" along normal blind 0.0254
equation "\"d22\" = d23"
equation "\"d28\" = 0.5 * d29"
equation "\"d31\" = 0.5 * d30"
properties part number "LED Indicator"
